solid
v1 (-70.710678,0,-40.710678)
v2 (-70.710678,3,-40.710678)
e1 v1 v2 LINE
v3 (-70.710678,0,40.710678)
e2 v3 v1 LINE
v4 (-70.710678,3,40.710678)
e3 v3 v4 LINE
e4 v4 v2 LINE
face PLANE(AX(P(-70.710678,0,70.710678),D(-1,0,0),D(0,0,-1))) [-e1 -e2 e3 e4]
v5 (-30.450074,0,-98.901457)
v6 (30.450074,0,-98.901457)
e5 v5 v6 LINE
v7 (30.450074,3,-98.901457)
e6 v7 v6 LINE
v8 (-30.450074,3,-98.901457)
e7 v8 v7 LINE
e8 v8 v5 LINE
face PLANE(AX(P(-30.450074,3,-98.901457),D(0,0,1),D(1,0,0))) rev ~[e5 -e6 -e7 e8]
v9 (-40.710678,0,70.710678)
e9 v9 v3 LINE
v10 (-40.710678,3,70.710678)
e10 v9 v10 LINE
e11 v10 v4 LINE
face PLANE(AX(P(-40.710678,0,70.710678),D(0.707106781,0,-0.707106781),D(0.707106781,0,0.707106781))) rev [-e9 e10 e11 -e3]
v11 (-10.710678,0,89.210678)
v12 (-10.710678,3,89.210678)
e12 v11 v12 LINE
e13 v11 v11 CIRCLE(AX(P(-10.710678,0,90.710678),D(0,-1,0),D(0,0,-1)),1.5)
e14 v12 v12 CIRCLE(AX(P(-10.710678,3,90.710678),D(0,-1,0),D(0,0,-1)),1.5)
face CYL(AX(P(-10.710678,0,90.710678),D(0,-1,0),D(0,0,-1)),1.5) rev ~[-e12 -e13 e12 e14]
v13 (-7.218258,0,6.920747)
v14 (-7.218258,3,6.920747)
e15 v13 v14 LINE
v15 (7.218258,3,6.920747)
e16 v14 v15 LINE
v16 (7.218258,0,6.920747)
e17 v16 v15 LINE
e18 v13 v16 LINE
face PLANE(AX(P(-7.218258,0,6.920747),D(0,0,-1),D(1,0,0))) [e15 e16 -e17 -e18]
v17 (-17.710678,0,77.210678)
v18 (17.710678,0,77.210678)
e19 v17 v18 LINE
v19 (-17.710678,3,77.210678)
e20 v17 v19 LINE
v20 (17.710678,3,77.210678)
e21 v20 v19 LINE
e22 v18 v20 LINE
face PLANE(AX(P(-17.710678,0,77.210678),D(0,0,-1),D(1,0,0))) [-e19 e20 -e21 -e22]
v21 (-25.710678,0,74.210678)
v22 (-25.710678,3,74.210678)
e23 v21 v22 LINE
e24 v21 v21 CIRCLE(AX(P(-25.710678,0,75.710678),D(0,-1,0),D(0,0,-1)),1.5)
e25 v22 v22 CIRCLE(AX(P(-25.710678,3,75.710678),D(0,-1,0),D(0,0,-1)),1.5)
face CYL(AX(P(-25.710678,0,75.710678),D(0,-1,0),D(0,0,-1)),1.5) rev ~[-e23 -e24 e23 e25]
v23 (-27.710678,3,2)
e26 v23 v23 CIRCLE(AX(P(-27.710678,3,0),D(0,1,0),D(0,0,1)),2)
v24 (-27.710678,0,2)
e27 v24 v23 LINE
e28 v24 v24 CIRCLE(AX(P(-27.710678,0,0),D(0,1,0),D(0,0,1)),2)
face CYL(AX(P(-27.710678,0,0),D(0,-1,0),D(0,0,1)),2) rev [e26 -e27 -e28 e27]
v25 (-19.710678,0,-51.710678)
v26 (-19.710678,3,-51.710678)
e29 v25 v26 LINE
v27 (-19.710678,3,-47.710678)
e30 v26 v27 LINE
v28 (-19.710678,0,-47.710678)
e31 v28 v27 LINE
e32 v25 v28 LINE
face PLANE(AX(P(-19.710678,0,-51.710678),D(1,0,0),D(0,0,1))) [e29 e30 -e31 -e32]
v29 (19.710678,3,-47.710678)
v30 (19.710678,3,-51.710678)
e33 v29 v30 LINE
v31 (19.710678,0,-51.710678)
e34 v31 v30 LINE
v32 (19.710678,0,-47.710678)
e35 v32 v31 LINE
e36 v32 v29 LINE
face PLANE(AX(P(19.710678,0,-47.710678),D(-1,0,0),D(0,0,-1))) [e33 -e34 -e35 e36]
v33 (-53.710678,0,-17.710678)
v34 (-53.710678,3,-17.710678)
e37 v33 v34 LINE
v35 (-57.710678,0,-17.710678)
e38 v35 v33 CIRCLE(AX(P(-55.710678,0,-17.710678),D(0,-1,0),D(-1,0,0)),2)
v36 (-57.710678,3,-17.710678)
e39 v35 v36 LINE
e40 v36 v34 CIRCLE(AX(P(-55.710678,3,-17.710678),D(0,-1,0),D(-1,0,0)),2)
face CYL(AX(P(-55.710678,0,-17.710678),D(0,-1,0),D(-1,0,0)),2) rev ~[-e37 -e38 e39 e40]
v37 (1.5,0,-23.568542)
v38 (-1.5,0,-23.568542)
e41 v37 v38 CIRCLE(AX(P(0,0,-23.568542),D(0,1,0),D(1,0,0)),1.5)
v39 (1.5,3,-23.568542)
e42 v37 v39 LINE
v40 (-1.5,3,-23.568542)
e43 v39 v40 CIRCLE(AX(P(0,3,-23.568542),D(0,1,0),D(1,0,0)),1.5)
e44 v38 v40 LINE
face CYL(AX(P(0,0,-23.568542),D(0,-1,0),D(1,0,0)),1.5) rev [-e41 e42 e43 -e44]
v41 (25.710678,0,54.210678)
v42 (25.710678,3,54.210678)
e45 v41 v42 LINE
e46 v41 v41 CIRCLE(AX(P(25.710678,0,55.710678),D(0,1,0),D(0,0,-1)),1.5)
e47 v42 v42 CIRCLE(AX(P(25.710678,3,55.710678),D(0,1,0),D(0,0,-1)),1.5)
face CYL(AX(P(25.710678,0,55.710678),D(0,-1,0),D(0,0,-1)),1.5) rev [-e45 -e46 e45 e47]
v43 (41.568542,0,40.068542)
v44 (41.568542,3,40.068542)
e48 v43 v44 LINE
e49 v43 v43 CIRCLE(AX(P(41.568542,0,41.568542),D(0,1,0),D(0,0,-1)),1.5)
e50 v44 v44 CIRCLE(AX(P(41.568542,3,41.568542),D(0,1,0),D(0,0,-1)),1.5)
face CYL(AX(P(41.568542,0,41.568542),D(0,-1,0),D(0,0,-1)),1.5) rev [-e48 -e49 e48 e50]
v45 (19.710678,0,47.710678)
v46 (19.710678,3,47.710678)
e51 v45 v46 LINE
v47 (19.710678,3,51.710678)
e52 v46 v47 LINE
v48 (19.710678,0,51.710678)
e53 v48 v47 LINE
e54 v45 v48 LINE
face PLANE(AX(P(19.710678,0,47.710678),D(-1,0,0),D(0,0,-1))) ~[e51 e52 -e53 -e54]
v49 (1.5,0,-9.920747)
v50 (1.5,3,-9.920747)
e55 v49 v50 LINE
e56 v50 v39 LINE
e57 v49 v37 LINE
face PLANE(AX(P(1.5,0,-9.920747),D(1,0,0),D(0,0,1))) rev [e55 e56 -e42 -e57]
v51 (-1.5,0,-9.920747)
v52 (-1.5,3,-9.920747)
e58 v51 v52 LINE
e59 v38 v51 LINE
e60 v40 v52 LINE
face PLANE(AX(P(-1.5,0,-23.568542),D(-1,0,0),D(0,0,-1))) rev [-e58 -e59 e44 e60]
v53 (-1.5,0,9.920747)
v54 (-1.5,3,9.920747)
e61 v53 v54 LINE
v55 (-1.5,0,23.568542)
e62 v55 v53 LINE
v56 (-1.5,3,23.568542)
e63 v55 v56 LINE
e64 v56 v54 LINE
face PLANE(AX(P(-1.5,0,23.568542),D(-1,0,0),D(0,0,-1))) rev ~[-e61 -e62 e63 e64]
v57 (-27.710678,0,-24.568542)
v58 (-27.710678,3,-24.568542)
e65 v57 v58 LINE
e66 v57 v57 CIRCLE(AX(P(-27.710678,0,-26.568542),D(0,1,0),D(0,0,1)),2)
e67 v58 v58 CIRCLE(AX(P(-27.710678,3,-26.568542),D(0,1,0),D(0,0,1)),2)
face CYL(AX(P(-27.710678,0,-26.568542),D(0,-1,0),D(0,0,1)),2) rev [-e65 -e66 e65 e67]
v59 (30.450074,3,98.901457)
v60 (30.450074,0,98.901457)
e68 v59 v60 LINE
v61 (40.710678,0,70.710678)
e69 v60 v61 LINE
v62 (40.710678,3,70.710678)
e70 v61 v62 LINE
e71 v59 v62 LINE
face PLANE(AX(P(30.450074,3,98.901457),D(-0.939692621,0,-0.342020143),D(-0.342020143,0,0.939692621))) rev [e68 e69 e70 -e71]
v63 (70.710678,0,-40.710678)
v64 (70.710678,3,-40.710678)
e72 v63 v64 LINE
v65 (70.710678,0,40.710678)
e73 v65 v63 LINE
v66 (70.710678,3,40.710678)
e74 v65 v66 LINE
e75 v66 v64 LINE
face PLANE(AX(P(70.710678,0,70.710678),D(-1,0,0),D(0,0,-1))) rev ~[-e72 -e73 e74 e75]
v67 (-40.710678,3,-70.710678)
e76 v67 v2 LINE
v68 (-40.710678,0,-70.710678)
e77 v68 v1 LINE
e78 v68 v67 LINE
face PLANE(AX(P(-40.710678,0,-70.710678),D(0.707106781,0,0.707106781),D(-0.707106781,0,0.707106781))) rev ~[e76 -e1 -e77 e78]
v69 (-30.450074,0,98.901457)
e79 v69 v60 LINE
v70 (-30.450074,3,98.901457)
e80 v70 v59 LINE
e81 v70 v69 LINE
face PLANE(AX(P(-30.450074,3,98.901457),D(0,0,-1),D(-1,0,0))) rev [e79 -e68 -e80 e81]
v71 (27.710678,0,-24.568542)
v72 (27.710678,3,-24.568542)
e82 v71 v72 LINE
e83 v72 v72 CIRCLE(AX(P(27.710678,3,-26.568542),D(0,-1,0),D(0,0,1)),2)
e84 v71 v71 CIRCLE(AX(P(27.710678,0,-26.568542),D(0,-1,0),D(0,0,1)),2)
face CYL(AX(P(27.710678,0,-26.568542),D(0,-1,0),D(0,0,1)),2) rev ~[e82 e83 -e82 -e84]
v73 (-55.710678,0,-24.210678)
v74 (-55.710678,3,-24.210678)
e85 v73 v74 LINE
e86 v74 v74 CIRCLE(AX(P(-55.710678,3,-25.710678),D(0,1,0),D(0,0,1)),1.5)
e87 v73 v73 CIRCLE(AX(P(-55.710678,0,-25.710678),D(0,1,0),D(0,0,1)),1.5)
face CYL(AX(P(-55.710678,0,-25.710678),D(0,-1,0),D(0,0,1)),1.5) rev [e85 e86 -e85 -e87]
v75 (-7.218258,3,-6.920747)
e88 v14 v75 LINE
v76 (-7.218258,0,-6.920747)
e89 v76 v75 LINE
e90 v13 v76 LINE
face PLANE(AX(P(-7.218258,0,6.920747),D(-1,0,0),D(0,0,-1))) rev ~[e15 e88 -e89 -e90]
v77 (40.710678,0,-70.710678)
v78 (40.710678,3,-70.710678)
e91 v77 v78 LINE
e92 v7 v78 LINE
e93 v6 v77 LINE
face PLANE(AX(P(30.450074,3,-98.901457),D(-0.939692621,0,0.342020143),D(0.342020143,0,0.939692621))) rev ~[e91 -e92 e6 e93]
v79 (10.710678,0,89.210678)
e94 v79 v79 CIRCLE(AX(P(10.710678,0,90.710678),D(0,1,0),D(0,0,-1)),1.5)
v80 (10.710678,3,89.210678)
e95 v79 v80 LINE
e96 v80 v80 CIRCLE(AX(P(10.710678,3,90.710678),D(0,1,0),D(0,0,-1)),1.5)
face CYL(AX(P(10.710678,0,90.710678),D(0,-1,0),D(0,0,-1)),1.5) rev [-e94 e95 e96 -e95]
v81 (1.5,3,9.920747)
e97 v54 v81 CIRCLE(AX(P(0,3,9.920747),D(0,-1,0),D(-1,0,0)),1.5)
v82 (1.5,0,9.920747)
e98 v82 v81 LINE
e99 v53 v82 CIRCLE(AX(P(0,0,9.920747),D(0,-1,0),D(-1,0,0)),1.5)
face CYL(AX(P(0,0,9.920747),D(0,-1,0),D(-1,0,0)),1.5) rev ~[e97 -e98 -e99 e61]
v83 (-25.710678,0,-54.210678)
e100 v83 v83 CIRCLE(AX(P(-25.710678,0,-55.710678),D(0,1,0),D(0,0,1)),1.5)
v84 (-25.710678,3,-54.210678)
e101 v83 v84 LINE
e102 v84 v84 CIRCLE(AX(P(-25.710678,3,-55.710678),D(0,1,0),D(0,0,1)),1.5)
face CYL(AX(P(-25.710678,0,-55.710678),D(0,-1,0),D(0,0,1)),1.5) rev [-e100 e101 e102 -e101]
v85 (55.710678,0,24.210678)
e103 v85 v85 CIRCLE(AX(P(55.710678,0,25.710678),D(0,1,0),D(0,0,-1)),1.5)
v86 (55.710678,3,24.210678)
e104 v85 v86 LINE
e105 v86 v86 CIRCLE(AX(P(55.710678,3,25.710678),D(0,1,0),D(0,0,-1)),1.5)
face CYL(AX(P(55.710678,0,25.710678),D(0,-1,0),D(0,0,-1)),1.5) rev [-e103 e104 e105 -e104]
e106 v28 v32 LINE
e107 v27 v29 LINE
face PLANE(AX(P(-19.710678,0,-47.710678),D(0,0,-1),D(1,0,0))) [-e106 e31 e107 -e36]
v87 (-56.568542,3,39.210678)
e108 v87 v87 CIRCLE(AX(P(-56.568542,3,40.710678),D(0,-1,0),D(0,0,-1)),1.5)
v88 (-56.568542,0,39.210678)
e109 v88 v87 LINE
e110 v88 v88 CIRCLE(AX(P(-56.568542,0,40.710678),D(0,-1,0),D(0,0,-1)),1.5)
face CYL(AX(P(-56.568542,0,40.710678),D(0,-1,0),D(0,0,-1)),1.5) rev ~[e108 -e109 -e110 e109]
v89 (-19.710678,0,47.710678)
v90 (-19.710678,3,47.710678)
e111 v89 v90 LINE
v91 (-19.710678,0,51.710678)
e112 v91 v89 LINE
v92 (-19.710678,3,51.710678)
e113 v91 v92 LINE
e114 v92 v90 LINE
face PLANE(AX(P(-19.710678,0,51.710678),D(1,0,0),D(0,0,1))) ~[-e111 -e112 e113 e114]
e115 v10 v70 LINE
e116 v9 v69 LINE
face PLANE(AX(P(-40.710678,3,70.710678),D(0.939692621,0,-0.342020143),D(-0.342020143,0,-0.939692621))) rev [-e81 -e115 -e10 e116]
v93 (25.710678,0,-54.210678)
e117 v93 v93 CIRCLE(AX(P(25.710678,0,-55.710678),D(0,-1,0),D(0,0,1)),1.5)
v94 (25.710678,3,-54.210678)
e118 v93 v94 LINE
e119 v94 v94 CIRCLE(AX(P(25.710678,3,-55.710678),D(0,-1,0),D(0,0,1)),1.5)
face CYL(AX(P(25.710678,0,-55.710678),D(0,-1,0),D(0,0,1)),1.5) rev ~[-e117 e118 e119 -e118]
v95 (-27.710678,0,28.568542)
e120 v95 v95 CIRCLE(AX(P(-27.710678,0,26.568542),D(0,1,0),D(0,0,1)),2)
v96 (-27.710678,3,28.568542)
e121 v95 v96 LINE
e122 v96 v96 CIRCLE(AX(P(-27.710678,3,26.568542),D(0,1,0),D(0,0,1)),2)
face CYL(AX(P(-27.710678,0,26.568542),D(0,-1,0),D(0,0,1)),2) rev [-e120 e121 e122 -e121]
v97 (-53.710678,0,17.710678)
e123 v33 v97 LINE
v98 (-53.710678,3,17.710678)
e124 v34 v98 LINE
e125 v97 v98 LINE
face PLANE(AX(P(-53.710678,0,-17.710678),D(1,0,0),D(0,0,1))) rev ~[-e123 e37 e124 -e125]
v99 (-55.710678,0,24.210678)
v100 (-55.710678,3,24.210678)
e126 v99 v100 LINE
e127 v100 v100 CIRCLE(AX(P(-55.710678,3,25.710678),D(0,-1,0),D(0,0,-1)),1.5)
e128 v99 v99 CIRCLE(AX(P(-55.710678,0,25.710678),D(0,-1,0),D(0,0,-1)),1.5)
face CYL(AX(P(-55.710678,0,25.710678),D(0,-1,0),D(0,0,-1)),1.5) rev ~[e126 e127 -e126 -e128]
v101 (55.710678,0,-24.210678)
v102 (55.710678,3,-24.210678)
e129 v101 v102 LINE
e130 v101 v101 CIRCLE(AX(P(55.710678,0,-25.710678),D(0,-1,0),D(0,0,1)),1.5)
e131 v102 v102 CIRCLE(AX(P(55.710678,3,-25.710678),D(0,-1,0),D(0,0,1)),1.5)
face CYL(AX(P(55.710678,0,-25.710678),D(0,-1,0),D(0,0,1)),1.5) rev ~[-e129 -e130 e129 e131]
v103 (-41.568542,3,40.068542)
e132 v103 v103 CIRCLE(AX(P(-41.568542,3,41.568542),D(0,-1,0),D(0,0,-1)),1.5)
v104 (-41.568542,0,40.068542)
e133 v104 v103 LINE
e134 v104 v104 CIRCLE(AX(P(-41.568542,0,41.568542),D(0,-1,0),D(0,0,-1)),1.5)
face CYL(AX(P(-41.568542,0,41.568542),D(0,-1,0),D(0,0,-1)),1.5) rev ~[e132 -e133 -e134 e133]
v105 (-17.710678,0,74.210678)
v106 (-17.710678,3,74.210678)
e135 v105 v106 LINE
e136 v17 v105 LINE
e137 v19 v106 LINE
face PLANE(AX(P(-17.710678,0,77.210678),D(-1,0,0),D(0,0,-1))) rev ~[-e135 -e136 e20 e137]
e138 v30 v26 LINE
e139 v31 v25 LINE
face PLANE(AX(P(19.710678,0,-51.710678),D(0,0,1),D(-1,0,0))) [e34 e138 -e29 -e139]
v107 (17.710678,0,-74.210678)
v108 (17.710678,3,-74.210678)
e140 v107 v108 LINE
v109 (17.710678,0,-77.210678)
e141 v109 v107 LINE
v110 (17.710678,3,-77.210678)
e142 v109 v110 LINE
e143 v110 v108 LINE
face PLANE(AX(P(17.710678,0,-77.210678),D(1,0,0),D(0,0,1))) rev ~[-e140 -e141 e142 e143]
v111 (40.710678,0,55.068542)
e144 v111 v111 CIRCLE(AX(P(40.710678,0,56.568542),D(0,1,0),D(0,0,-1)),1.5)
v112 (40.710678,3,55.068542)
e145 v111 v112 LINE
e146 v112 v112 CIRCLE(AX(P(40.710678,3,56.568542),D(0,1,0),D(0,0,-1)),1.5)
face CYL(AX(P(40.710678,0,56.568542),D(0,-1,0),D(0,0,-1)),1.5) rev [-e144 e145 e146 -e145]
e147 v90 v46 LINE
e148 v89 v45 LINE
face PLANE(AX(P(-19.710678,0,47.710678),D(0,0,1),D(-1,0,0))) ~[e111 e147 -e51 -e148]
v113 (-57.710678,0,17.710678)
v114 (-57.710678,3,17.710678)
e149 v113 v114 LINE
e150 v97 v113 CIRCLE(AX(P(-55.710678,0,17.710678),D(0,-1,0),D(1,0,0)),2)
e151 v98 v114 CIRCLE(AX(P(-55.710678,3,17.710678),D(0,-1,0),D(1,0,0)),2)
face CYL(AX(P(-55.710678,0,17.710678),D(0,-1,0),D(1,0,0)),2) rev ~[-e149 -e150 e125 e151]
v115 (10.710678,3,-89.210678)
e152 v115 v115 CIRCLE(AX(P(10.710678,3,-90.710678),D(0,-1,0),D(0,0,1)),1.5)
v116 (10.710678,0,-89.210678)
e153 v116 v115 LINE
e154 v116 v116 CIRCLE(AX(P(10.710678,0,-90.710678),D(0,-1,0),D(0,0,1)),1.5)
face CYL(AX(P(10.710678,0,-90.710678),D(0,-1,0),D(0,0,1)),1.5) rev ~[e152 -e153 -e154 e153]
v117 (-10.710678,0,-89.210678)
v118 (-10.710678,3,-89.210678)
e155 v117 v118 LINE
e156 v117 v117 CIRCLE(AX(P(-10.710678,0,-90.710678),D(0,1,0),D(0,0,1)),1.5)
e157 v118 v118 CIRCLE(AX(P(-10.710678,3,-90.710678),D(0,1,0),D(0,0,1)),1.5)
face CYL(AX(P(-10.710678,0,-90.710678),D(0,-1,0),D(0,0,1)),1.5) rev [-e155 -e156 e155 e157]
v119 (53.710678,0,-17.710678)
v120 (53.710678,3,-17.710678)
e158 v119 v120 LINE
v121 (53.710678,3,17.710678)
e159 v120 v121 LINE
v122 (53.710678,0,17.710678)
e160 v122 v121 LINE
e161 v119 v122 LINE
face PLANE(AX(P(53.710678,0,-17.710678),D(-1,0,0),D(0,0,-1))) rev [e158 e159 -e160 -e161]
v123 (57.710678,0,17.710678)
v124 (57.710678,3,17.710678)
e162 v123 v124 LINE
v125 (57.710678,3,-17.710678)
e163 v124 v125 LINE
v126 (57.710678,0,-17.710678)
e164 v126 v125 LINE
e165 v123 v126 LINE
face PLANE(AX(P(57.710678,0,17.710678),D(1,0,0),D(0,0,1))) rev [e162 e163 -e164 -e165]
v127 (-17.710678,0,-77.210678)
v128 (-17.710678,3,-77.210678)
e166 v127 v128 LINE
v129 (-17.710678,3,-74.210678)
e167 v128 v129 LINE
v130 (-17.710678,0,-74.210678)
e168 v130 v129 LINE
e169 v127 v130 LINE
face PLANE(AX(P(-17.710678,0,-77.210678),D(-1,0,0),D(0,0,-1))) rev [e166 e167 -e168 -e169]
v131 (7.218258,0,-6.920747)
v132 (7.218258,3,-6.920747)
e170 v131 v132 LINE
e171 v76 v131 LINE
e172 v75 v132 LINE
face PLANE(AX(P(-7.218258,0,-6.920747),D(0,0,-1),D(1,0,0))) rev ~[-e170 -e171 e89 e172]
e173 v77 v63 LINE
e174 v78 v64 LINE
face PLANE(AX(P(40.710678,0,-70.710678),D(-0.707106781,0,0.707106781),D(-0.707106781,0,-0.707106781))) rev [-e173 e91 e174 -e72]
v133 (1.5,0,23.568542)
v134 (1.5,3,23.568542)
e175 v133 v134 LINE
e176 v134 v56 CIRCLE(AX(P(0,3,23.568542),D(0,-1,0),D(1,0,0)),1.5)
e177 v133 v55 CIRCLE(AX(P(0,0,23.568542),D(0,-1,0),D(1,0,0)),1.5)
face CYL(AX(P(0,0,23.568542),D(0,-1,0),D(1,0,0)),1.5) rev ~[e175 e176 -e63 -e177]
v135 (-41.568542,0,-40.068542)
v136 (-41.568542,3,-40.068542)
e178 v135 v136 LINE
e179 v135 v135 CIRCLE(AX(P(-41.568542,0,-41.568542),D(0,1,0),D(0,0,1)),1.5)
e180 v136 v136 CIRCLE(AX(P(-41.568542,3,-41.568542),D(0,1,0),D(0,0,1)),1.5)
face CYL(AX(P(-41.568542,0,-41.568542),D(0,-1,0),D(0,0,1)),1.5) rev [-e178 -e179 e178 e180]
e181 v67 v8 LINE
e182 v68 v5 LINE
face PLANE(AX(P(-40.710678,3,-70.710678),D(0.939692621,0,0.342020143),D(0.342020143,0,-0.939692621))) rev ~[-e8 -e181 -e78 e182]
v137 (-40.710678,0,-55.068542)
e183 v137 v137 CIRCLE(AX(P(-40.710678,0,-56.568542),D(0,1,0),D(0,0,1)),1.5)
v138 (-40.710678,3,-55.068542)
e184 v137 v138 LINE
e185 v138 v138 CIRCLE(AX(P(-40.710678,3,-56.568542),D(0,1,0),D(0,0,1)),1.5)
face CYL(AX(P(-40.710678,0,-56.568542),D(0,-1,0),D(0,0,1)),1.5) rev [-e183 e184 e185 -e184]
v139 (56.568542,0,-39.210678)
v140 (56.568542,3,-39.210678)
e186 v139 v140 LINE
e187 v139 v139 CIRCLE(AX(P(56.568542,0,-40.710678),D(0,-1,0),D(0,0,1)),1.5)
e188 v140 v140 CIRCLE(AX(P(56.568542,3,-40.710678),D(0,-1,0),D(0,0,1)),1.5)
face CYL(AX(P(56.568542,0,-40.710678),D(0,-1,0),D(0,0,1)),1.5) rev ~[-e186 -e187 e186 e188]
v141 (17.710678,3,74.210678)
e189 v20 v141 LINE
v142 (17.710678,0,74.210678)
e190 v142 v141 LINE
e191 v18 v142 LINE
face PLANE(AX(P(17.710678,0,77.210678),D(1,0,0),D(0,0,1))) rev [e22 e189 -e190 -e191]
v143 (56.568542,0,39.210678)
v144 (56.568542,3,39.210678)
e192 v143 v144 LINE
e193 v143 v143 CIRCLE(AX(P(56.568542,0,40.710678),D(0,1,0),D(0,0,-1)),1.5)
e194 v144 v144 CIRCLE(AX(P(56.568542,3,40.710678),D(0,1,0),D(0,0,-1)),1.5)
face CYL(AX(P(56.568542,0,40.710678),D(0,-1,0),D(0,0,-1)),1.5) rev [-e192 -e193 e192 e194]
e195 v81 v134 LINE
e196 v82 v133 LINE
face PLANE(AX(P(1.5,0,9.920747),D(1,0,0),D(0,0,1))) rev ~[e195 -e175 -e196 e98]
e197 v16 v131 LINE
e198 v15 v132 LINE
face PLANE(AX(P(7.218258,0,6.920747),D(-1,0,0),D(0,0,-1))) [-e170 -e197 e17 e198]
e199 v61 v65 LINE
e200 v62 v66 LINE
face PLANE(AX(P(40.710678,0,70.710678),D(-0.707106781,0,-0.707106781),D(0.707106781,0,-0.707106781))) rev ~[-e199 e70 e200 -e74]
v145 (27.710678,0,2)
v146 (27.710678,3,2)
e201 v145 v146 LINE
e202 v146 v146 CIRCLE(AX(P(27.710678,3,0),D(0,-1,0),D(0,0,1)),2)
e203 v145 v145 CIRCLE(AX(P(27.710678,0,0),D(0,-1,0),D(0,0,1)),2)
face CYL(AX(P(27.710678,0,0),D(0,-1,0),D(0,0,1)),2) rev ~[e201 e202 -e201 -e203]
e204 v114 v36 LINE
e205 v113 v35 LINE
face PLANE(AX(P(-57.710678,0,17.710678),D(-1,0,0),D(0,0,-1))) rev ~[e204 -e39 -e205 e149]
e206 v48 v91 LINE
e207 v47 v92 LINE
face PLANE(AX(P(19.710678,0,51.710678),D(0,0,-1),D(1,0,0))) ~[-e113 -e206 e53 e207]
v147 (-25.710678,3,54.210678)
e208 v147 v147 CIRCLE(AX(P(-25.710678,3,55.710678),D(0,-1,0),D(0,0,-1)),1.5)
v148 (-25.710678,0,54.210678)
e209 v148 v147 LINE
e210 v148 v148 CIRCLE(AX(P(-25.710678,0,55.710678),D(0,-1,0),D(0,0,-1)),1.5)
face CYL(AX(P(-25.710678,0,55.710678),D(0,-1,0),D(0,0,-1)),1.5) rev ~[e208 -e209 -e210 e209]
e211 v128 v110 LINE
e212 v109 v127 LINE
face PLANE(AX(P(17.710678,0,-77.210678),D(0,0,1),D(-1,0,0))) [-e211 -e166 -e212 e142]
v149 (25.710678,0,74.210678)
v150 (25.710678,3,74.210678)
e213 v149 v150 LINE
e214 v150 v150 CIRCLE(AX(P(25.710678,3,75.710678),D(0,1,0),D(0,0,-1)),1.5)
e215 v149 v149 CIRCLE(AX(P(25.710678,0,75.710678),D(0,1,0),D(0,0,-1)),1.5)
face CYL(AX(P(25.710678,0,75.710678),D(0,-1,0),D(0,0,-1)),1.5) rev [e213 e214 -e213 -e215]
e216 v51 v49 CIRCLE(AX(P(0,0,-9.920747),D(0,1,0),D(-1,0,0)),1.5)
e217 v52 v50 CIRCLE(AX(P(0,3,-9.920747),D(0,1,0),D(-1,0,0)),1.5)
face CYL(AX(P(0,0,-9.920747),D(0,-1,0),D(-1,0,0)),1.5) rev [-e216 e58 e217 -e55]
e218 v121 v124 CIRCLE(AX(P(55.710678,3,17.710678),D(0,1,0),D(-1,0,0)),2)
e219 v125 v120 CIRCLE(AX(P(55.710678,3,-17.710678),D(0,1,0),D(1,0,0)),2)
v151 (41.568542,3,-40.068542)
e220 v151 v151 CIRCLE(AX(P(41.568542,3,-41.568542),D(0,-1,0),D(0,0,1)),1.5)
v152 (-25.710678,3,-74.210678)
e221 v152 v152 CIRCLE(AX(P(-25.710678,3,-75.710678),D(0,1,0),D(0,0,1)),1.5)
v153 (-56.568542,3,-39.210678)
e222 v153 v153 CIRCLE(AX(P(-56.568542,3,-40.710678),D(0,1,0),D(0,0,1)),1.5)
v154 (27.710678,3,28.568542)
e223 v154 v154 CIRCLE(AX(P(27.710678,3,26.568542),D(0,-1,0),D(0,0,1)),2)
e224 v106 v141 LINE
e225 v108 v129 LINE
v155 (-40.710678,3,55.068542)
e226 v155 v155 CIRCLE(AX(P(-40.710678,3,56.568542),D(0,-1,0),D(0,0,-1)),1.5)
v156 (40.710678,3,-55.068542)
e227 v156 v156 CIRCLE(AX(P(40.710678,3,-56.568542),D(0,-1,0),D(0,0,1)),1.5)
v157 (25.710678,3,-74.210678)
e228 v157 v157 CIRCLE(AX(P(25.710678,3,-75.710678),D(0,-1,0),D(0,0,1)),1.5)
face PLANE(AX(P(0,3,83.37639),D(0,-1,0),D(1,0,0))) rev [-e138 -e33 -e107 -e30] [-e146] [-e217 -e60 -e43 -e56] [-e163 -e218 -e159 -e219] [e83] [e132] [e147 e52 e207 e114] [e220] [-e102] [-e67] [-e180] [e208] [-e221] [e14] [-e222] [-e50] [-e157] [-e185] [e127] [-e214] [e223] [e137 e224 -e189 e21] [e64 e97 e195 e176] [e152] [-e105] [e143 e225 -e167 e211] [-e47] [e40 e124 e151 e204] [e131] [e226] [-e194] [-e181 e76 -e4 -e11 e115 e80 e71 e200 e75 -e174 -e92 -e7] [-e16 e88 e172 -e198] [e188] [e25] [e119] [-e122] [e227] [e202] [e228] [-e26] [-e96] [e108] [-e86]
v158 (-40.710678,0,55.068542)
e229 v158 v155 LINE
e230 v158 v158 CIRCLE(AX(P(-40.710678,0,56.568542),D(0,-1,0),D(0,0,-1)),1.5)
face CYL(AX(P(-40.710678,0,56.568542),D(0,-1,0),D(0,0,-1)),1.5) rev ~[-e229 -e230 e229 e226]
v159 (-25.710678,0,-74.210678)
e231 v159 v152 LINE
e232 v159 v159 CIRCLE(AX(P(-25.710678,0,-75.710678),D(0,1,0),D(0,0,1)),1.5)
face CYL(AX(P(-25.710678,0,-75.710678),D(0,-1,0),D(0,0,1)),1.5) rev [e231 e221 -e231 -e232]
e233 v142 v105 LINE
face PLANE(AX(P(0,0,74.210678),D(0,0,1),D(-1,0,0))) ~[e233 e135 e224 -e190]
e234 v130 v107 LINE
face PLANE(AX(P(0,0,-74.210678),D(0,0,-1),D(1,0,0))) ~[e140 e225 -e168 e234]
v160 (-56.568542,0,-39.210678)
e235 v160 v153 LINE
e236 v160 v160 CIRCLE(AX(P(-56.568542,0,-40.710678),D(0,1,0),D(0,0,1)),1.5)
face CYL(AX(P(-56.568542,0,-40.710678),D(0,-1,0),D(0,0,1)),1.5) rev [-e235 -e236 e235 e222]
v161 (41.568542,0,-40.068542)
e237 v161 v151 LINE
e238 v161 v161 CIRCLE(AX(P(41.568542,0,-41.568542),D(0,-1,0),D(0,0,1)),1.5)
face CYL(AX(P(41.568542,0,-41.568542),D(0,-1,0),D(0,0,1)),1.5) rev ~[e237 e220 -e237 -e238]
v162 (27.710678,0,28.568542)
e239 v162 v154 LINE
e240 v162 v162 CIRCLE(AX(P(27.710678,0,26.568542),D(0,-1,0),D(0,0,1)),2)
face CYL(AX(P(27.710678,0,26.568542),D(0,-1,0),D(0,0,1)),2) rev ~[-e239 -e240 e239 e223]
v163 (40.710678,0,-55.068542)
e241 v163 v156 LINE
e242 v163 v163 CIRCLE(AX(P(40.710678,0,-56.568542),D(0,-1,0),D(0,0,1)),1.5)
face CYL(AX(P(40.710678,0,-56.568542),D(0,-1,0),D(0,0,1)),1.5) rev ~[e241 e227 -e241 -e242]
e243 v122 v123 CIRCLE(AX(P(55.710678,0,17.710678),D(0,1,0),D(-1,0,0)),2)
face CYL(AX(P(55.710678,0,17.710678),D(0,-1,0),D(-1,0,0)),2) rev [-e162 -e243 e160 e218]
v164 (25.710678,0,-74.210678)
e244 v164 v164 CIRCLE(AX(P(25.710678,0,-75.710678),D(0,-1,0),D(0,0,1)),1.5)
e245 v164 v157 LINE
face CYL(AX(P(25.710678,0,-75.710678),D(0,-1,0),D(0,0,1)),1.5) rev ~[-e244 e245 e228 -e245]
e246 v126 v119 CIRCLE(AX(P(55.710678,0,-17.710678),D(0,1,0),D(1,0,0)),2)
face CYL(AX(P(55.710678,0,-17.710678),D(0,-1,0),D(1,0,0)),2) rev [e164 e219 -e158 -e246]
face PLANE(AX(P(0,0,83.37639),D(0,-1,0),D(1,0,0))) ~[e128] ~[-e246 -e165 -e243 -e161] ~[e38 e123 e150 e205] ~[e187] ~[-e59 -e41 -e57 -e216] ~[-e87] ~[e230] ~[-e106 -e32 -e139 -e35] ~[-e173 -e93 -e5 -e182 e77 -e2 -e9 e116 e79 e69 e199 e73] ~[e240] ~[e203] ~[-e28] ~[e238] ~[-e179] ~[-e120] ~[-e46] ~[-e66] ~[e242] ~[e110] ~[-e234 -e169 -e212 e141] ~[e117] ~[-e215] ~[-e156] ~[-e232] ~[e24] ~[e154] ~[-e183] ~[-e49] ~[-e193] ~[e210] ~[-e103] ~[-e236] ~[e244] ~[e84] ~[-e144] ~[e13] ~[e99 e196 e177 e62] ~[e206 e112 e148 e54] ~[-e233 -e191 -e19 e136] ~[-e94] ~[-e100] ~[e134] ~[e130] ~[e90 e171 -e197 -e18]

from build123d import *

# Parameters (mm, degrees)
SKETCH_1_W                                 = 141.421356238
SKETCH_1_H                                 = 141.421356238
EXTRUDE_1_DEPTH                            = 3
CUT_EXTRUDE_1_DEPTH                        = 3
MIRROR_1_AT_THE_SECOND_PLANE_COPY_1_DEPTH  = 3
SKETCH_3_R                                 = 1.5
CUT_EXTRUDE_2_DEPTH                        = 3
MIRROR_2_AT_THE_SECOND_PLANE_COPY_1_SKET_R = 1.5
MIRROR_2_AT_THE_SECOND_PLANE_COPY_1_DEPTH  = 3
SKETCH_4_R                                 = 2
CUT_EXTRUDE_3_DEPTH                        = 3
SKETCH_5_R                                 = 1.5
CUT_EXTRUDE_4_DEPTH                        = 3
MIRROR_4_AT_THE_SECOND_PLANE_COPY_1_SKET_R = 1.5
MIRROR_4_AT_THE_SECOND_PLANE_COPY_1_DEPTH  = 3
SKETCH_6_R                                 = 1.5
CUT_EXTRUDE_5_DEPTH                        = 3
MIRROR_5_AT_THE_SECOND_PLANE_COPY_1_SKET_R = 1.5
MIRROR_5_AT_THE_SECOND_PLANE_COPY_1_DEPTH  = 3
CUT_EXTRUDE_6_DEPTH                        = 3
SKETCH_8_W                                 = 14.436516826
SKETCH_8_H                                 = 13.841494932
CUT_EXTRUDE_7_DEPTH                        = 3
CUT_EXTRUDE_8_DEPTH                        = 3
CUT_EXTRUDE_10_DEPTH                       = 3
EXTRUDE_2_DEPTH                            = 3
MIRROR_9_AT_THE_SECOND_PLANE_COPY_1_DEPTH  = 3
SKETCH_13_R                                = 1.5
CUT_EXTRUDE_11_DEPTH                       = 3
MIRROR_11_COPY_1_SKETCH_R                  = 1.5
MIRROR_11_COPY_1_DEPTH                     = 3


with BuildPart() as part:
    # 草图1 → 凸台-拉伸1 (new body)
    with BuildSketch(Plane(origin=(0, 0, 0), x_dir=(1, 0, 0), z_dir=(0, 1, 0))):
        Rectangle(SKETCH_1_W, SKETCH_1_H)
    extrude(amount=EXTRUDE_1_DEPTH)

    # 草图2 → 切除-拉伸1 (cut)
    with BuildSketch(Plane(origin=(0, 0, 0), x_dir=(1, 0, 0), z_dir=(0, 1, 0))):
        Polygon((-70.710678119, 70.710678119), (-40.710678119, 70.710678119), (-70.710678119, 40.710678119), align=None)
    cut_extrude_1 = extrude(amount=CUT_EXTRUDE_1_DEPTH, mode=Mode.SUBTRACT)

    # 镜向1: 切除-拉伸1 across plane
    add(cut_extrude_1.mirror(Plane(origin=(0, 0, 0), x_dir=(0, 0, 1), z_dir=(1, 0, 0))), mode=Mode.SUBTRACT)

    # 镜向1 at the second plane: 切除-拉伸1 across plane
    add(cut_extrude_1.mirror(Plane.XY), mode=Mode.SUBTRACT)

    # 镜向1 at the second plane copy 1 sket → 镜向1 at the second plane copy 1 (cut)
    with BuildSketch(Plane(origin=(0, 0, 0), x_dir=(-1, 0, 0), z_dir=(0, 1, 0))):
        Polygon((-70.710678119, 70.710678119), (-40.710678119, 70.710678119), (-70.710678119, 40.710678119), align=None)
    extrude(amount=MIRROR_1_AT_THE_SECOND_PLANE_COPY_1_DEPTH, mode=Mode.SUBTRACT)

    # 草图3 → 切除-拉伸2 (cut)
    with BuildSketch(Plane(origin=(0, 0, 0), x_dir=(1, 0, 0), z_dir=(0, 1, 0))):
        with Locations(Location((-56.568542495, 40.710678119, 0), (0, 0, 270))):
            Circle(SKETCH_3_R)
        with Locations(Location((-40.710678119, 56.568542495, 0), (0, 0, 270))):
            Circle(SKETCH_3_R)
        with Locations(Location((-41.568542495, 41.568542495, 0), (0, 0, 270))):
            Circle(SKETCH_3_R)
    cut_extrude_2 = extrude(amount=CUT_EXTRUDE_2_DEPTH, mode=Mode.SUBTRACT)

    # 镜向2: 切除-拉伸2 across plane
    add(cut_extrude_2.mirror(Plane.XY), mode=Mode.SUBTRACT)

    # 镜向2 at the second plane: 切除-拉伸2 across plane
    add(cut_extrude_2.mirror(Plane(origin=(0, 0, 0), x_dir=(0, 0, 1), z_dir=(1, 0, 0))), mode=Mode.SUBTRACT)

    # 镜向2 at the second plane copy 1 sket → 镜向2 at the second plane copy 1 (cut)
    with BuildSketch(Plane(origin=(0, 0, 0), x_dir=(-1, 0, 0), z_dir=(0, 1, 0))):
        with Locations(Location((-56.568542495, 40.710678119, 0), (0, 0, 270))):
            Circle(MIRROR_2_AT_THE_SECOND_PLANE_COPY_1_SKET_R)
        with Locations(Location((-40.710678119, 56.568542495, 0), (0, 0, 270))):
            Circle(MIRROR_2_AT_THE_SECOND_PLANE_COPY_1_SKET_R)
        with Locations(Location((-41.568542495, 41.568542495, 0), (0, 0, 270))):
            Circle(MIRROR_2_AT_THE_SECOND_PLANE_COPY_1_SKET_R)
    extrude(amount=MIRROR_2_AT_THE_SECOND_PLANE_COPY_1_DEPTH, mode=Mode.SUBTRACT)

    # 草图4 → 切除-拉伸3 (cut)
    with BuildSketch(Plane(origin=(0, 0, 0), x_dir=(1, 0, 0), z_dir=(0, 1, 0))):
        with Locations(Location((-27.710678119, 26.568542495, 0), (0, 0, 270))):
            Circle(SKETCH_4_R)
        with Locations(Location((-27.710678119, -26.568542495, 0), (0, 0, 270))):
            Circle(SKETCH_4_R)
        with Locations(Location((-27.710678119, 0, 0), (0, 0, 270))):
            Circle(SKETCH_4_R)
    cut_extrude_3 = extrude(amount=CUT_EXTRUDE_3_DEPTH, mode=Mode.SUBTRACT)

    # 镜向3: 切除-拉伸3 across plane
    add(cut_extrude_3.mirror(Plane(origin=(0, 0, 0), x_dir=(0, 0, 1), z_dir=(1, 0, 0))), mode=Mode.SUBTRACT)

    # 草图5 → 切除-拉伸4 (cut)
    with BuildSketch(Plane(origin=(0, 0, 0), x_dir=(1, 0, 0), z_dir=(0, 1, 0))):
        with Locations(Location((-55.710678119, 25.710678119, 0), (0, 0, 270))):
            Circle(SKETCH_5_R)
    cut_extrude_4 = extrude(amount=CUT_EXTRUDE_4_DEPTH, mode=Mode.SUBTRACT)

    # 镜向4: 切除-拉伸4 across plane
    add(cut_extrude_4.mirror(Plane(origin=(0, 0, 0), x_dir=(0, 0, 1), z_dir=(1, 0, 0))), mode=Mode.SUBTRACT)

    # 镜向4 at the second plane: 切除-拉伸4 across plane
    add(cut_extrude_4.mirror(Plane.XY), mode=Mode.SUBTRACT)

    # 镜向4 at the second plane copy 1 sket → 镜向4 at the second plane copy 1 (cut)
    with BuildSketch(Plane(origin=(0, 0, 0), x_dir=(-1, 0, 0), z_dir=(0, 1, 0))):
        with Locations(Location((-55.710678119, 25.710678119, 0), (0, 0, 270))):
            Circle(MIRROR_4_AT_THE_SECOND_PLANE_COPY_1_SKET_R)
    extrude(amount=MIRROR_4_AT_THE_SECOND_PLANE_COPY_1_DEPTH, mode=Mode.SUBTRACT)

    # 草图6 → 切除-拉伸5 (cut)
    with BuildSketch(Plane(origin=(0, 0, 0), x_dir=(1, 0, 0), z_dir=(0, 1, 0))):
        with Locations(Location((-25.710678119, 55.710678119, 0), (0, 0, 270))):
            Circle(SKETCH_6_R)
    cut_extrude_5 = extrude(amount=CUT_EXTRUDE_5_DEPTH, mode=Mode.SUBTRACT)

    # 镜向5: 切除-拉伸5 across plane
    add(cut_extrude_5.mirror(Plane.XY), mode=Mode.SUBTRACT)

    # 镜向5 at the second plane: 切除-拉伸5 across plane
    add(cut_extrude_5.mirror(Plane(origin=(0, 0, 0), x_dir=(0, 0, 1), z_dir=(1, 0, 0))), mode=Mode.SUBTRACT)

    # 镜向5 at the second plane copy 1 sket → 镜向5 at the second plane copy 1 (cut)
    with BuildSketch(Plane(origin=(0, 0, 0), x_dir=(-1, 0, 0), z_dir=(0, 1, 0))):
        with Locations(Location((-25.710678119, 55.710678119, 0), (0, 0, 270))):
            Circle(MIRROR_5_AT_THE_SECOND_PLANE_COPY_1_SKET_R)
    extrude(amount=MIRROR_5_AT_THE_SECOND_PLANE_COPY_1_DEPTH, mode=Mode.SUBTRACT)

    # 草图7 → 切除-拉伸6 (cut)
    with BuildSketch(Plane(origin=(0, 0, 0), x_dir=(1, 0, 0), z_dir=(0, 1, 0))):
        with BuildLine():
            Line((-53.710678119, 17.710678119), (-53.710678119, -17.710678119))
            ThreePointArc((-53.710678119, -17.710678119), (-55.710678119, -19.710678119), (-57.710678119, -17.710678119))
            Line((-57.710678119, -17.710678119), (-57.710678119, 17.710678119))
            ThreePointArc((-57.710678119, 17.710678119), (-55.710678119, 19.710678119), (-53.710678119, 17.710678119))
        make_face()
    cut_extrude_6 = extrude(amount=CUT_EXTRUDE_6_DEPTH, mode=Mode.SUBTRACT)

    # 镜向6: 切除-拉伸6 across plane
    add(cut_extrude_6.mirror(Plane(origin=(0, 0, 0), x_dir=(0, 0, 1), z_dir=(1, 0, 0))), mode=Mode.SUBTRACT)

    # 草图8 → 切除-拉伸7 (cut)
    with BuildSketch(Plane(origin=(0, 0, 0), x_dir=(1, 0, 0), z_dir=(0, 1, 0))):
        Rectangle(SKETCH_8_W, SKETCH_8_H)
    extrude(amount=CUT_EXTRUDE_7_DEPTH, mode=Mode.SUBTRACT)

    # 草图9 → 切除-拉伸8 (cut)
    with BuildSketch(Plane(origin=(0, 0, 0), x_dir=(1, 0, 0), z_dir=(0, 1, 0))):
        with BuildLine():
            Line((1.5, -9.920747466), (1.5, -23.568542495))
            ThreePointArc((1.5, -23.568542495), (0, -25.068542495), (-1.5, -23.568542495))
            Line((-1.5, -23.568542495), (-1.5, -9.920747466))
            ThreePointArc((-1.5, -9.920747466), (0, -8.420747466), (1.5, -9.920747466))
        make_face()
    cut_extrude_8 = extrude(amount=CUT_EXTRUDE_8_DEPTH, mode=Mode.SUBTRACT)

    # 镜向7: 切除-拉伸8 across plane
    add(cut_extrude_8.mirror(Plane.XY), mode=Mode.SUBTRACT)

    # 草图10 → 切除-拉伸10 (cut)
    with BuildSketch(Plane(origin=(0, 0, 0), x_dir=(1, 0, 0), z_dir=(0, 1, 0))):
        Polygon((-19.710678119, 51.710678119), (-19.710678119, 51.490395466), (-19.710678119, 47.710678119), (19.710678119, 47.710678119), (19.710678119, 51.710678119), align=None)
    cut_extrude_10 = extrude(amount=CUT_EXTRUDE_10_DEPTH, mode=Mode.SUBTRACT)

    # 镜向8: 切除-拉伸10 across plane
    add(cut_extrude_10.mirror(Plane.XY), mode=Mode.SUBTRACT)

    # 草图11 → 凸台-拉伸2 (add)
    with BuildSketch(Plane(origin=(0, 3, 0), x_dir=(1, 0, 0), z_dir=(0, 1, 0))):
        Polygon((-40.710678119, 70.710678119), (-30.450073819, 98.901456742), (30.450073819, 98.901456742), (40.710678119, 70.710678119), align=None)
    extrude_2 = extrude(amount=-EXTRUDE_2_DEPTH)

    # 镜向9: 凸台-拉伸2 across plane
    add(extrude_2.mirror(Plane(origin=(0, 0, 0), x_dir=(0, 0, 1), z_dir=(1, 0, 0))))

    # 镜向9 at the second plane: 凸台-拉伸2 across plane
    add(extrude_2.mirror(Plane.XY))

    # 镜向9 at the second plane copy 1 sket → 镜向9 at the second plane copy 1 (add)
    with BuildSketch(Plane(origin=(0, 3, 0), x_dir=(-1, 0, 0), z_dir=(0, 1, 0))):
        Polygon((-40.710678119, 70.710678119), (-30.450073819, 98.901456742), (30.450073819, 98.901456742), (40.710678119, 70.710678119), align=None)
    extrude(amount=-MIRROR_9_AT_THE_SECOND_PLANE_COPY_1_DEPTH)

    # 草图13 → 切除-拉伸11 (cut)
    with BuildSketch(Plane.XZ):
        with Locations(Location((-25.710678119, 75.710678119, 0), (0, 0, 270))):
            Circle(SKETCH_13_R)
        with Locations(Location((-10.710678119, 90.710678119, 0), (0, 0, 270))):
            Circle(SKETCH_13_R)
        Polygon((-17.710678119, 75.710678119), (-17.710678119, 77.210678119), (0, 77.210678119), (0, 74.210678119), (-17.710678119, 74.210678119), align=None)
    cut_extrude_11 = extrude(amount=-CUT_EXTRUDE_11_DEPTH, mode=Mode.SUBTRACT)

    # 镜向10: 切除-拉伸11 across plane
    add(cut_extrude_11.mirror(Plane(origin=(0, 0, 0), x_dir=(0, 0, 1), z_dir=(1, 0, 0))), mode=Mode.SUBTRACT)

    # 镜向11: 切除-拉伸11 across plane
    add(cut_extrude_11.mirror(Plane.XY), mode=Mode.SUBTRACT)

    # 镜向11 copy 1 sketch → 镜向11 copy 1 (cut)
    with BuildSketch(Plane(origin=(0, 0, 0), x_dir=(-1, 0, 0), z_dir=(0, -1, 0))):
        with Locations(Location((-25.710678119, 75.710678119, 0), (0, 0, 270))):
            Circle(MIRROR_11_COPY_1_SKETCH_R)
        with Locations(Location((-10.710678119, 90.710678119, 0), (0, 0, 270))):
            Circle(MIRROR_11_COPY_1_SKETCH_R)
        Polygon((-17.710678119, 75.710678119), (-17.710678119, 77.210678119), (0, 77.210678119), (0, 74.210678119), (-17.710678119, 74.210678119), align=None)
    extrude(amount=-MIRROR_11_COPY_1_DEPTH, mode=Mode.SUBTRACT)


solid = part.part
